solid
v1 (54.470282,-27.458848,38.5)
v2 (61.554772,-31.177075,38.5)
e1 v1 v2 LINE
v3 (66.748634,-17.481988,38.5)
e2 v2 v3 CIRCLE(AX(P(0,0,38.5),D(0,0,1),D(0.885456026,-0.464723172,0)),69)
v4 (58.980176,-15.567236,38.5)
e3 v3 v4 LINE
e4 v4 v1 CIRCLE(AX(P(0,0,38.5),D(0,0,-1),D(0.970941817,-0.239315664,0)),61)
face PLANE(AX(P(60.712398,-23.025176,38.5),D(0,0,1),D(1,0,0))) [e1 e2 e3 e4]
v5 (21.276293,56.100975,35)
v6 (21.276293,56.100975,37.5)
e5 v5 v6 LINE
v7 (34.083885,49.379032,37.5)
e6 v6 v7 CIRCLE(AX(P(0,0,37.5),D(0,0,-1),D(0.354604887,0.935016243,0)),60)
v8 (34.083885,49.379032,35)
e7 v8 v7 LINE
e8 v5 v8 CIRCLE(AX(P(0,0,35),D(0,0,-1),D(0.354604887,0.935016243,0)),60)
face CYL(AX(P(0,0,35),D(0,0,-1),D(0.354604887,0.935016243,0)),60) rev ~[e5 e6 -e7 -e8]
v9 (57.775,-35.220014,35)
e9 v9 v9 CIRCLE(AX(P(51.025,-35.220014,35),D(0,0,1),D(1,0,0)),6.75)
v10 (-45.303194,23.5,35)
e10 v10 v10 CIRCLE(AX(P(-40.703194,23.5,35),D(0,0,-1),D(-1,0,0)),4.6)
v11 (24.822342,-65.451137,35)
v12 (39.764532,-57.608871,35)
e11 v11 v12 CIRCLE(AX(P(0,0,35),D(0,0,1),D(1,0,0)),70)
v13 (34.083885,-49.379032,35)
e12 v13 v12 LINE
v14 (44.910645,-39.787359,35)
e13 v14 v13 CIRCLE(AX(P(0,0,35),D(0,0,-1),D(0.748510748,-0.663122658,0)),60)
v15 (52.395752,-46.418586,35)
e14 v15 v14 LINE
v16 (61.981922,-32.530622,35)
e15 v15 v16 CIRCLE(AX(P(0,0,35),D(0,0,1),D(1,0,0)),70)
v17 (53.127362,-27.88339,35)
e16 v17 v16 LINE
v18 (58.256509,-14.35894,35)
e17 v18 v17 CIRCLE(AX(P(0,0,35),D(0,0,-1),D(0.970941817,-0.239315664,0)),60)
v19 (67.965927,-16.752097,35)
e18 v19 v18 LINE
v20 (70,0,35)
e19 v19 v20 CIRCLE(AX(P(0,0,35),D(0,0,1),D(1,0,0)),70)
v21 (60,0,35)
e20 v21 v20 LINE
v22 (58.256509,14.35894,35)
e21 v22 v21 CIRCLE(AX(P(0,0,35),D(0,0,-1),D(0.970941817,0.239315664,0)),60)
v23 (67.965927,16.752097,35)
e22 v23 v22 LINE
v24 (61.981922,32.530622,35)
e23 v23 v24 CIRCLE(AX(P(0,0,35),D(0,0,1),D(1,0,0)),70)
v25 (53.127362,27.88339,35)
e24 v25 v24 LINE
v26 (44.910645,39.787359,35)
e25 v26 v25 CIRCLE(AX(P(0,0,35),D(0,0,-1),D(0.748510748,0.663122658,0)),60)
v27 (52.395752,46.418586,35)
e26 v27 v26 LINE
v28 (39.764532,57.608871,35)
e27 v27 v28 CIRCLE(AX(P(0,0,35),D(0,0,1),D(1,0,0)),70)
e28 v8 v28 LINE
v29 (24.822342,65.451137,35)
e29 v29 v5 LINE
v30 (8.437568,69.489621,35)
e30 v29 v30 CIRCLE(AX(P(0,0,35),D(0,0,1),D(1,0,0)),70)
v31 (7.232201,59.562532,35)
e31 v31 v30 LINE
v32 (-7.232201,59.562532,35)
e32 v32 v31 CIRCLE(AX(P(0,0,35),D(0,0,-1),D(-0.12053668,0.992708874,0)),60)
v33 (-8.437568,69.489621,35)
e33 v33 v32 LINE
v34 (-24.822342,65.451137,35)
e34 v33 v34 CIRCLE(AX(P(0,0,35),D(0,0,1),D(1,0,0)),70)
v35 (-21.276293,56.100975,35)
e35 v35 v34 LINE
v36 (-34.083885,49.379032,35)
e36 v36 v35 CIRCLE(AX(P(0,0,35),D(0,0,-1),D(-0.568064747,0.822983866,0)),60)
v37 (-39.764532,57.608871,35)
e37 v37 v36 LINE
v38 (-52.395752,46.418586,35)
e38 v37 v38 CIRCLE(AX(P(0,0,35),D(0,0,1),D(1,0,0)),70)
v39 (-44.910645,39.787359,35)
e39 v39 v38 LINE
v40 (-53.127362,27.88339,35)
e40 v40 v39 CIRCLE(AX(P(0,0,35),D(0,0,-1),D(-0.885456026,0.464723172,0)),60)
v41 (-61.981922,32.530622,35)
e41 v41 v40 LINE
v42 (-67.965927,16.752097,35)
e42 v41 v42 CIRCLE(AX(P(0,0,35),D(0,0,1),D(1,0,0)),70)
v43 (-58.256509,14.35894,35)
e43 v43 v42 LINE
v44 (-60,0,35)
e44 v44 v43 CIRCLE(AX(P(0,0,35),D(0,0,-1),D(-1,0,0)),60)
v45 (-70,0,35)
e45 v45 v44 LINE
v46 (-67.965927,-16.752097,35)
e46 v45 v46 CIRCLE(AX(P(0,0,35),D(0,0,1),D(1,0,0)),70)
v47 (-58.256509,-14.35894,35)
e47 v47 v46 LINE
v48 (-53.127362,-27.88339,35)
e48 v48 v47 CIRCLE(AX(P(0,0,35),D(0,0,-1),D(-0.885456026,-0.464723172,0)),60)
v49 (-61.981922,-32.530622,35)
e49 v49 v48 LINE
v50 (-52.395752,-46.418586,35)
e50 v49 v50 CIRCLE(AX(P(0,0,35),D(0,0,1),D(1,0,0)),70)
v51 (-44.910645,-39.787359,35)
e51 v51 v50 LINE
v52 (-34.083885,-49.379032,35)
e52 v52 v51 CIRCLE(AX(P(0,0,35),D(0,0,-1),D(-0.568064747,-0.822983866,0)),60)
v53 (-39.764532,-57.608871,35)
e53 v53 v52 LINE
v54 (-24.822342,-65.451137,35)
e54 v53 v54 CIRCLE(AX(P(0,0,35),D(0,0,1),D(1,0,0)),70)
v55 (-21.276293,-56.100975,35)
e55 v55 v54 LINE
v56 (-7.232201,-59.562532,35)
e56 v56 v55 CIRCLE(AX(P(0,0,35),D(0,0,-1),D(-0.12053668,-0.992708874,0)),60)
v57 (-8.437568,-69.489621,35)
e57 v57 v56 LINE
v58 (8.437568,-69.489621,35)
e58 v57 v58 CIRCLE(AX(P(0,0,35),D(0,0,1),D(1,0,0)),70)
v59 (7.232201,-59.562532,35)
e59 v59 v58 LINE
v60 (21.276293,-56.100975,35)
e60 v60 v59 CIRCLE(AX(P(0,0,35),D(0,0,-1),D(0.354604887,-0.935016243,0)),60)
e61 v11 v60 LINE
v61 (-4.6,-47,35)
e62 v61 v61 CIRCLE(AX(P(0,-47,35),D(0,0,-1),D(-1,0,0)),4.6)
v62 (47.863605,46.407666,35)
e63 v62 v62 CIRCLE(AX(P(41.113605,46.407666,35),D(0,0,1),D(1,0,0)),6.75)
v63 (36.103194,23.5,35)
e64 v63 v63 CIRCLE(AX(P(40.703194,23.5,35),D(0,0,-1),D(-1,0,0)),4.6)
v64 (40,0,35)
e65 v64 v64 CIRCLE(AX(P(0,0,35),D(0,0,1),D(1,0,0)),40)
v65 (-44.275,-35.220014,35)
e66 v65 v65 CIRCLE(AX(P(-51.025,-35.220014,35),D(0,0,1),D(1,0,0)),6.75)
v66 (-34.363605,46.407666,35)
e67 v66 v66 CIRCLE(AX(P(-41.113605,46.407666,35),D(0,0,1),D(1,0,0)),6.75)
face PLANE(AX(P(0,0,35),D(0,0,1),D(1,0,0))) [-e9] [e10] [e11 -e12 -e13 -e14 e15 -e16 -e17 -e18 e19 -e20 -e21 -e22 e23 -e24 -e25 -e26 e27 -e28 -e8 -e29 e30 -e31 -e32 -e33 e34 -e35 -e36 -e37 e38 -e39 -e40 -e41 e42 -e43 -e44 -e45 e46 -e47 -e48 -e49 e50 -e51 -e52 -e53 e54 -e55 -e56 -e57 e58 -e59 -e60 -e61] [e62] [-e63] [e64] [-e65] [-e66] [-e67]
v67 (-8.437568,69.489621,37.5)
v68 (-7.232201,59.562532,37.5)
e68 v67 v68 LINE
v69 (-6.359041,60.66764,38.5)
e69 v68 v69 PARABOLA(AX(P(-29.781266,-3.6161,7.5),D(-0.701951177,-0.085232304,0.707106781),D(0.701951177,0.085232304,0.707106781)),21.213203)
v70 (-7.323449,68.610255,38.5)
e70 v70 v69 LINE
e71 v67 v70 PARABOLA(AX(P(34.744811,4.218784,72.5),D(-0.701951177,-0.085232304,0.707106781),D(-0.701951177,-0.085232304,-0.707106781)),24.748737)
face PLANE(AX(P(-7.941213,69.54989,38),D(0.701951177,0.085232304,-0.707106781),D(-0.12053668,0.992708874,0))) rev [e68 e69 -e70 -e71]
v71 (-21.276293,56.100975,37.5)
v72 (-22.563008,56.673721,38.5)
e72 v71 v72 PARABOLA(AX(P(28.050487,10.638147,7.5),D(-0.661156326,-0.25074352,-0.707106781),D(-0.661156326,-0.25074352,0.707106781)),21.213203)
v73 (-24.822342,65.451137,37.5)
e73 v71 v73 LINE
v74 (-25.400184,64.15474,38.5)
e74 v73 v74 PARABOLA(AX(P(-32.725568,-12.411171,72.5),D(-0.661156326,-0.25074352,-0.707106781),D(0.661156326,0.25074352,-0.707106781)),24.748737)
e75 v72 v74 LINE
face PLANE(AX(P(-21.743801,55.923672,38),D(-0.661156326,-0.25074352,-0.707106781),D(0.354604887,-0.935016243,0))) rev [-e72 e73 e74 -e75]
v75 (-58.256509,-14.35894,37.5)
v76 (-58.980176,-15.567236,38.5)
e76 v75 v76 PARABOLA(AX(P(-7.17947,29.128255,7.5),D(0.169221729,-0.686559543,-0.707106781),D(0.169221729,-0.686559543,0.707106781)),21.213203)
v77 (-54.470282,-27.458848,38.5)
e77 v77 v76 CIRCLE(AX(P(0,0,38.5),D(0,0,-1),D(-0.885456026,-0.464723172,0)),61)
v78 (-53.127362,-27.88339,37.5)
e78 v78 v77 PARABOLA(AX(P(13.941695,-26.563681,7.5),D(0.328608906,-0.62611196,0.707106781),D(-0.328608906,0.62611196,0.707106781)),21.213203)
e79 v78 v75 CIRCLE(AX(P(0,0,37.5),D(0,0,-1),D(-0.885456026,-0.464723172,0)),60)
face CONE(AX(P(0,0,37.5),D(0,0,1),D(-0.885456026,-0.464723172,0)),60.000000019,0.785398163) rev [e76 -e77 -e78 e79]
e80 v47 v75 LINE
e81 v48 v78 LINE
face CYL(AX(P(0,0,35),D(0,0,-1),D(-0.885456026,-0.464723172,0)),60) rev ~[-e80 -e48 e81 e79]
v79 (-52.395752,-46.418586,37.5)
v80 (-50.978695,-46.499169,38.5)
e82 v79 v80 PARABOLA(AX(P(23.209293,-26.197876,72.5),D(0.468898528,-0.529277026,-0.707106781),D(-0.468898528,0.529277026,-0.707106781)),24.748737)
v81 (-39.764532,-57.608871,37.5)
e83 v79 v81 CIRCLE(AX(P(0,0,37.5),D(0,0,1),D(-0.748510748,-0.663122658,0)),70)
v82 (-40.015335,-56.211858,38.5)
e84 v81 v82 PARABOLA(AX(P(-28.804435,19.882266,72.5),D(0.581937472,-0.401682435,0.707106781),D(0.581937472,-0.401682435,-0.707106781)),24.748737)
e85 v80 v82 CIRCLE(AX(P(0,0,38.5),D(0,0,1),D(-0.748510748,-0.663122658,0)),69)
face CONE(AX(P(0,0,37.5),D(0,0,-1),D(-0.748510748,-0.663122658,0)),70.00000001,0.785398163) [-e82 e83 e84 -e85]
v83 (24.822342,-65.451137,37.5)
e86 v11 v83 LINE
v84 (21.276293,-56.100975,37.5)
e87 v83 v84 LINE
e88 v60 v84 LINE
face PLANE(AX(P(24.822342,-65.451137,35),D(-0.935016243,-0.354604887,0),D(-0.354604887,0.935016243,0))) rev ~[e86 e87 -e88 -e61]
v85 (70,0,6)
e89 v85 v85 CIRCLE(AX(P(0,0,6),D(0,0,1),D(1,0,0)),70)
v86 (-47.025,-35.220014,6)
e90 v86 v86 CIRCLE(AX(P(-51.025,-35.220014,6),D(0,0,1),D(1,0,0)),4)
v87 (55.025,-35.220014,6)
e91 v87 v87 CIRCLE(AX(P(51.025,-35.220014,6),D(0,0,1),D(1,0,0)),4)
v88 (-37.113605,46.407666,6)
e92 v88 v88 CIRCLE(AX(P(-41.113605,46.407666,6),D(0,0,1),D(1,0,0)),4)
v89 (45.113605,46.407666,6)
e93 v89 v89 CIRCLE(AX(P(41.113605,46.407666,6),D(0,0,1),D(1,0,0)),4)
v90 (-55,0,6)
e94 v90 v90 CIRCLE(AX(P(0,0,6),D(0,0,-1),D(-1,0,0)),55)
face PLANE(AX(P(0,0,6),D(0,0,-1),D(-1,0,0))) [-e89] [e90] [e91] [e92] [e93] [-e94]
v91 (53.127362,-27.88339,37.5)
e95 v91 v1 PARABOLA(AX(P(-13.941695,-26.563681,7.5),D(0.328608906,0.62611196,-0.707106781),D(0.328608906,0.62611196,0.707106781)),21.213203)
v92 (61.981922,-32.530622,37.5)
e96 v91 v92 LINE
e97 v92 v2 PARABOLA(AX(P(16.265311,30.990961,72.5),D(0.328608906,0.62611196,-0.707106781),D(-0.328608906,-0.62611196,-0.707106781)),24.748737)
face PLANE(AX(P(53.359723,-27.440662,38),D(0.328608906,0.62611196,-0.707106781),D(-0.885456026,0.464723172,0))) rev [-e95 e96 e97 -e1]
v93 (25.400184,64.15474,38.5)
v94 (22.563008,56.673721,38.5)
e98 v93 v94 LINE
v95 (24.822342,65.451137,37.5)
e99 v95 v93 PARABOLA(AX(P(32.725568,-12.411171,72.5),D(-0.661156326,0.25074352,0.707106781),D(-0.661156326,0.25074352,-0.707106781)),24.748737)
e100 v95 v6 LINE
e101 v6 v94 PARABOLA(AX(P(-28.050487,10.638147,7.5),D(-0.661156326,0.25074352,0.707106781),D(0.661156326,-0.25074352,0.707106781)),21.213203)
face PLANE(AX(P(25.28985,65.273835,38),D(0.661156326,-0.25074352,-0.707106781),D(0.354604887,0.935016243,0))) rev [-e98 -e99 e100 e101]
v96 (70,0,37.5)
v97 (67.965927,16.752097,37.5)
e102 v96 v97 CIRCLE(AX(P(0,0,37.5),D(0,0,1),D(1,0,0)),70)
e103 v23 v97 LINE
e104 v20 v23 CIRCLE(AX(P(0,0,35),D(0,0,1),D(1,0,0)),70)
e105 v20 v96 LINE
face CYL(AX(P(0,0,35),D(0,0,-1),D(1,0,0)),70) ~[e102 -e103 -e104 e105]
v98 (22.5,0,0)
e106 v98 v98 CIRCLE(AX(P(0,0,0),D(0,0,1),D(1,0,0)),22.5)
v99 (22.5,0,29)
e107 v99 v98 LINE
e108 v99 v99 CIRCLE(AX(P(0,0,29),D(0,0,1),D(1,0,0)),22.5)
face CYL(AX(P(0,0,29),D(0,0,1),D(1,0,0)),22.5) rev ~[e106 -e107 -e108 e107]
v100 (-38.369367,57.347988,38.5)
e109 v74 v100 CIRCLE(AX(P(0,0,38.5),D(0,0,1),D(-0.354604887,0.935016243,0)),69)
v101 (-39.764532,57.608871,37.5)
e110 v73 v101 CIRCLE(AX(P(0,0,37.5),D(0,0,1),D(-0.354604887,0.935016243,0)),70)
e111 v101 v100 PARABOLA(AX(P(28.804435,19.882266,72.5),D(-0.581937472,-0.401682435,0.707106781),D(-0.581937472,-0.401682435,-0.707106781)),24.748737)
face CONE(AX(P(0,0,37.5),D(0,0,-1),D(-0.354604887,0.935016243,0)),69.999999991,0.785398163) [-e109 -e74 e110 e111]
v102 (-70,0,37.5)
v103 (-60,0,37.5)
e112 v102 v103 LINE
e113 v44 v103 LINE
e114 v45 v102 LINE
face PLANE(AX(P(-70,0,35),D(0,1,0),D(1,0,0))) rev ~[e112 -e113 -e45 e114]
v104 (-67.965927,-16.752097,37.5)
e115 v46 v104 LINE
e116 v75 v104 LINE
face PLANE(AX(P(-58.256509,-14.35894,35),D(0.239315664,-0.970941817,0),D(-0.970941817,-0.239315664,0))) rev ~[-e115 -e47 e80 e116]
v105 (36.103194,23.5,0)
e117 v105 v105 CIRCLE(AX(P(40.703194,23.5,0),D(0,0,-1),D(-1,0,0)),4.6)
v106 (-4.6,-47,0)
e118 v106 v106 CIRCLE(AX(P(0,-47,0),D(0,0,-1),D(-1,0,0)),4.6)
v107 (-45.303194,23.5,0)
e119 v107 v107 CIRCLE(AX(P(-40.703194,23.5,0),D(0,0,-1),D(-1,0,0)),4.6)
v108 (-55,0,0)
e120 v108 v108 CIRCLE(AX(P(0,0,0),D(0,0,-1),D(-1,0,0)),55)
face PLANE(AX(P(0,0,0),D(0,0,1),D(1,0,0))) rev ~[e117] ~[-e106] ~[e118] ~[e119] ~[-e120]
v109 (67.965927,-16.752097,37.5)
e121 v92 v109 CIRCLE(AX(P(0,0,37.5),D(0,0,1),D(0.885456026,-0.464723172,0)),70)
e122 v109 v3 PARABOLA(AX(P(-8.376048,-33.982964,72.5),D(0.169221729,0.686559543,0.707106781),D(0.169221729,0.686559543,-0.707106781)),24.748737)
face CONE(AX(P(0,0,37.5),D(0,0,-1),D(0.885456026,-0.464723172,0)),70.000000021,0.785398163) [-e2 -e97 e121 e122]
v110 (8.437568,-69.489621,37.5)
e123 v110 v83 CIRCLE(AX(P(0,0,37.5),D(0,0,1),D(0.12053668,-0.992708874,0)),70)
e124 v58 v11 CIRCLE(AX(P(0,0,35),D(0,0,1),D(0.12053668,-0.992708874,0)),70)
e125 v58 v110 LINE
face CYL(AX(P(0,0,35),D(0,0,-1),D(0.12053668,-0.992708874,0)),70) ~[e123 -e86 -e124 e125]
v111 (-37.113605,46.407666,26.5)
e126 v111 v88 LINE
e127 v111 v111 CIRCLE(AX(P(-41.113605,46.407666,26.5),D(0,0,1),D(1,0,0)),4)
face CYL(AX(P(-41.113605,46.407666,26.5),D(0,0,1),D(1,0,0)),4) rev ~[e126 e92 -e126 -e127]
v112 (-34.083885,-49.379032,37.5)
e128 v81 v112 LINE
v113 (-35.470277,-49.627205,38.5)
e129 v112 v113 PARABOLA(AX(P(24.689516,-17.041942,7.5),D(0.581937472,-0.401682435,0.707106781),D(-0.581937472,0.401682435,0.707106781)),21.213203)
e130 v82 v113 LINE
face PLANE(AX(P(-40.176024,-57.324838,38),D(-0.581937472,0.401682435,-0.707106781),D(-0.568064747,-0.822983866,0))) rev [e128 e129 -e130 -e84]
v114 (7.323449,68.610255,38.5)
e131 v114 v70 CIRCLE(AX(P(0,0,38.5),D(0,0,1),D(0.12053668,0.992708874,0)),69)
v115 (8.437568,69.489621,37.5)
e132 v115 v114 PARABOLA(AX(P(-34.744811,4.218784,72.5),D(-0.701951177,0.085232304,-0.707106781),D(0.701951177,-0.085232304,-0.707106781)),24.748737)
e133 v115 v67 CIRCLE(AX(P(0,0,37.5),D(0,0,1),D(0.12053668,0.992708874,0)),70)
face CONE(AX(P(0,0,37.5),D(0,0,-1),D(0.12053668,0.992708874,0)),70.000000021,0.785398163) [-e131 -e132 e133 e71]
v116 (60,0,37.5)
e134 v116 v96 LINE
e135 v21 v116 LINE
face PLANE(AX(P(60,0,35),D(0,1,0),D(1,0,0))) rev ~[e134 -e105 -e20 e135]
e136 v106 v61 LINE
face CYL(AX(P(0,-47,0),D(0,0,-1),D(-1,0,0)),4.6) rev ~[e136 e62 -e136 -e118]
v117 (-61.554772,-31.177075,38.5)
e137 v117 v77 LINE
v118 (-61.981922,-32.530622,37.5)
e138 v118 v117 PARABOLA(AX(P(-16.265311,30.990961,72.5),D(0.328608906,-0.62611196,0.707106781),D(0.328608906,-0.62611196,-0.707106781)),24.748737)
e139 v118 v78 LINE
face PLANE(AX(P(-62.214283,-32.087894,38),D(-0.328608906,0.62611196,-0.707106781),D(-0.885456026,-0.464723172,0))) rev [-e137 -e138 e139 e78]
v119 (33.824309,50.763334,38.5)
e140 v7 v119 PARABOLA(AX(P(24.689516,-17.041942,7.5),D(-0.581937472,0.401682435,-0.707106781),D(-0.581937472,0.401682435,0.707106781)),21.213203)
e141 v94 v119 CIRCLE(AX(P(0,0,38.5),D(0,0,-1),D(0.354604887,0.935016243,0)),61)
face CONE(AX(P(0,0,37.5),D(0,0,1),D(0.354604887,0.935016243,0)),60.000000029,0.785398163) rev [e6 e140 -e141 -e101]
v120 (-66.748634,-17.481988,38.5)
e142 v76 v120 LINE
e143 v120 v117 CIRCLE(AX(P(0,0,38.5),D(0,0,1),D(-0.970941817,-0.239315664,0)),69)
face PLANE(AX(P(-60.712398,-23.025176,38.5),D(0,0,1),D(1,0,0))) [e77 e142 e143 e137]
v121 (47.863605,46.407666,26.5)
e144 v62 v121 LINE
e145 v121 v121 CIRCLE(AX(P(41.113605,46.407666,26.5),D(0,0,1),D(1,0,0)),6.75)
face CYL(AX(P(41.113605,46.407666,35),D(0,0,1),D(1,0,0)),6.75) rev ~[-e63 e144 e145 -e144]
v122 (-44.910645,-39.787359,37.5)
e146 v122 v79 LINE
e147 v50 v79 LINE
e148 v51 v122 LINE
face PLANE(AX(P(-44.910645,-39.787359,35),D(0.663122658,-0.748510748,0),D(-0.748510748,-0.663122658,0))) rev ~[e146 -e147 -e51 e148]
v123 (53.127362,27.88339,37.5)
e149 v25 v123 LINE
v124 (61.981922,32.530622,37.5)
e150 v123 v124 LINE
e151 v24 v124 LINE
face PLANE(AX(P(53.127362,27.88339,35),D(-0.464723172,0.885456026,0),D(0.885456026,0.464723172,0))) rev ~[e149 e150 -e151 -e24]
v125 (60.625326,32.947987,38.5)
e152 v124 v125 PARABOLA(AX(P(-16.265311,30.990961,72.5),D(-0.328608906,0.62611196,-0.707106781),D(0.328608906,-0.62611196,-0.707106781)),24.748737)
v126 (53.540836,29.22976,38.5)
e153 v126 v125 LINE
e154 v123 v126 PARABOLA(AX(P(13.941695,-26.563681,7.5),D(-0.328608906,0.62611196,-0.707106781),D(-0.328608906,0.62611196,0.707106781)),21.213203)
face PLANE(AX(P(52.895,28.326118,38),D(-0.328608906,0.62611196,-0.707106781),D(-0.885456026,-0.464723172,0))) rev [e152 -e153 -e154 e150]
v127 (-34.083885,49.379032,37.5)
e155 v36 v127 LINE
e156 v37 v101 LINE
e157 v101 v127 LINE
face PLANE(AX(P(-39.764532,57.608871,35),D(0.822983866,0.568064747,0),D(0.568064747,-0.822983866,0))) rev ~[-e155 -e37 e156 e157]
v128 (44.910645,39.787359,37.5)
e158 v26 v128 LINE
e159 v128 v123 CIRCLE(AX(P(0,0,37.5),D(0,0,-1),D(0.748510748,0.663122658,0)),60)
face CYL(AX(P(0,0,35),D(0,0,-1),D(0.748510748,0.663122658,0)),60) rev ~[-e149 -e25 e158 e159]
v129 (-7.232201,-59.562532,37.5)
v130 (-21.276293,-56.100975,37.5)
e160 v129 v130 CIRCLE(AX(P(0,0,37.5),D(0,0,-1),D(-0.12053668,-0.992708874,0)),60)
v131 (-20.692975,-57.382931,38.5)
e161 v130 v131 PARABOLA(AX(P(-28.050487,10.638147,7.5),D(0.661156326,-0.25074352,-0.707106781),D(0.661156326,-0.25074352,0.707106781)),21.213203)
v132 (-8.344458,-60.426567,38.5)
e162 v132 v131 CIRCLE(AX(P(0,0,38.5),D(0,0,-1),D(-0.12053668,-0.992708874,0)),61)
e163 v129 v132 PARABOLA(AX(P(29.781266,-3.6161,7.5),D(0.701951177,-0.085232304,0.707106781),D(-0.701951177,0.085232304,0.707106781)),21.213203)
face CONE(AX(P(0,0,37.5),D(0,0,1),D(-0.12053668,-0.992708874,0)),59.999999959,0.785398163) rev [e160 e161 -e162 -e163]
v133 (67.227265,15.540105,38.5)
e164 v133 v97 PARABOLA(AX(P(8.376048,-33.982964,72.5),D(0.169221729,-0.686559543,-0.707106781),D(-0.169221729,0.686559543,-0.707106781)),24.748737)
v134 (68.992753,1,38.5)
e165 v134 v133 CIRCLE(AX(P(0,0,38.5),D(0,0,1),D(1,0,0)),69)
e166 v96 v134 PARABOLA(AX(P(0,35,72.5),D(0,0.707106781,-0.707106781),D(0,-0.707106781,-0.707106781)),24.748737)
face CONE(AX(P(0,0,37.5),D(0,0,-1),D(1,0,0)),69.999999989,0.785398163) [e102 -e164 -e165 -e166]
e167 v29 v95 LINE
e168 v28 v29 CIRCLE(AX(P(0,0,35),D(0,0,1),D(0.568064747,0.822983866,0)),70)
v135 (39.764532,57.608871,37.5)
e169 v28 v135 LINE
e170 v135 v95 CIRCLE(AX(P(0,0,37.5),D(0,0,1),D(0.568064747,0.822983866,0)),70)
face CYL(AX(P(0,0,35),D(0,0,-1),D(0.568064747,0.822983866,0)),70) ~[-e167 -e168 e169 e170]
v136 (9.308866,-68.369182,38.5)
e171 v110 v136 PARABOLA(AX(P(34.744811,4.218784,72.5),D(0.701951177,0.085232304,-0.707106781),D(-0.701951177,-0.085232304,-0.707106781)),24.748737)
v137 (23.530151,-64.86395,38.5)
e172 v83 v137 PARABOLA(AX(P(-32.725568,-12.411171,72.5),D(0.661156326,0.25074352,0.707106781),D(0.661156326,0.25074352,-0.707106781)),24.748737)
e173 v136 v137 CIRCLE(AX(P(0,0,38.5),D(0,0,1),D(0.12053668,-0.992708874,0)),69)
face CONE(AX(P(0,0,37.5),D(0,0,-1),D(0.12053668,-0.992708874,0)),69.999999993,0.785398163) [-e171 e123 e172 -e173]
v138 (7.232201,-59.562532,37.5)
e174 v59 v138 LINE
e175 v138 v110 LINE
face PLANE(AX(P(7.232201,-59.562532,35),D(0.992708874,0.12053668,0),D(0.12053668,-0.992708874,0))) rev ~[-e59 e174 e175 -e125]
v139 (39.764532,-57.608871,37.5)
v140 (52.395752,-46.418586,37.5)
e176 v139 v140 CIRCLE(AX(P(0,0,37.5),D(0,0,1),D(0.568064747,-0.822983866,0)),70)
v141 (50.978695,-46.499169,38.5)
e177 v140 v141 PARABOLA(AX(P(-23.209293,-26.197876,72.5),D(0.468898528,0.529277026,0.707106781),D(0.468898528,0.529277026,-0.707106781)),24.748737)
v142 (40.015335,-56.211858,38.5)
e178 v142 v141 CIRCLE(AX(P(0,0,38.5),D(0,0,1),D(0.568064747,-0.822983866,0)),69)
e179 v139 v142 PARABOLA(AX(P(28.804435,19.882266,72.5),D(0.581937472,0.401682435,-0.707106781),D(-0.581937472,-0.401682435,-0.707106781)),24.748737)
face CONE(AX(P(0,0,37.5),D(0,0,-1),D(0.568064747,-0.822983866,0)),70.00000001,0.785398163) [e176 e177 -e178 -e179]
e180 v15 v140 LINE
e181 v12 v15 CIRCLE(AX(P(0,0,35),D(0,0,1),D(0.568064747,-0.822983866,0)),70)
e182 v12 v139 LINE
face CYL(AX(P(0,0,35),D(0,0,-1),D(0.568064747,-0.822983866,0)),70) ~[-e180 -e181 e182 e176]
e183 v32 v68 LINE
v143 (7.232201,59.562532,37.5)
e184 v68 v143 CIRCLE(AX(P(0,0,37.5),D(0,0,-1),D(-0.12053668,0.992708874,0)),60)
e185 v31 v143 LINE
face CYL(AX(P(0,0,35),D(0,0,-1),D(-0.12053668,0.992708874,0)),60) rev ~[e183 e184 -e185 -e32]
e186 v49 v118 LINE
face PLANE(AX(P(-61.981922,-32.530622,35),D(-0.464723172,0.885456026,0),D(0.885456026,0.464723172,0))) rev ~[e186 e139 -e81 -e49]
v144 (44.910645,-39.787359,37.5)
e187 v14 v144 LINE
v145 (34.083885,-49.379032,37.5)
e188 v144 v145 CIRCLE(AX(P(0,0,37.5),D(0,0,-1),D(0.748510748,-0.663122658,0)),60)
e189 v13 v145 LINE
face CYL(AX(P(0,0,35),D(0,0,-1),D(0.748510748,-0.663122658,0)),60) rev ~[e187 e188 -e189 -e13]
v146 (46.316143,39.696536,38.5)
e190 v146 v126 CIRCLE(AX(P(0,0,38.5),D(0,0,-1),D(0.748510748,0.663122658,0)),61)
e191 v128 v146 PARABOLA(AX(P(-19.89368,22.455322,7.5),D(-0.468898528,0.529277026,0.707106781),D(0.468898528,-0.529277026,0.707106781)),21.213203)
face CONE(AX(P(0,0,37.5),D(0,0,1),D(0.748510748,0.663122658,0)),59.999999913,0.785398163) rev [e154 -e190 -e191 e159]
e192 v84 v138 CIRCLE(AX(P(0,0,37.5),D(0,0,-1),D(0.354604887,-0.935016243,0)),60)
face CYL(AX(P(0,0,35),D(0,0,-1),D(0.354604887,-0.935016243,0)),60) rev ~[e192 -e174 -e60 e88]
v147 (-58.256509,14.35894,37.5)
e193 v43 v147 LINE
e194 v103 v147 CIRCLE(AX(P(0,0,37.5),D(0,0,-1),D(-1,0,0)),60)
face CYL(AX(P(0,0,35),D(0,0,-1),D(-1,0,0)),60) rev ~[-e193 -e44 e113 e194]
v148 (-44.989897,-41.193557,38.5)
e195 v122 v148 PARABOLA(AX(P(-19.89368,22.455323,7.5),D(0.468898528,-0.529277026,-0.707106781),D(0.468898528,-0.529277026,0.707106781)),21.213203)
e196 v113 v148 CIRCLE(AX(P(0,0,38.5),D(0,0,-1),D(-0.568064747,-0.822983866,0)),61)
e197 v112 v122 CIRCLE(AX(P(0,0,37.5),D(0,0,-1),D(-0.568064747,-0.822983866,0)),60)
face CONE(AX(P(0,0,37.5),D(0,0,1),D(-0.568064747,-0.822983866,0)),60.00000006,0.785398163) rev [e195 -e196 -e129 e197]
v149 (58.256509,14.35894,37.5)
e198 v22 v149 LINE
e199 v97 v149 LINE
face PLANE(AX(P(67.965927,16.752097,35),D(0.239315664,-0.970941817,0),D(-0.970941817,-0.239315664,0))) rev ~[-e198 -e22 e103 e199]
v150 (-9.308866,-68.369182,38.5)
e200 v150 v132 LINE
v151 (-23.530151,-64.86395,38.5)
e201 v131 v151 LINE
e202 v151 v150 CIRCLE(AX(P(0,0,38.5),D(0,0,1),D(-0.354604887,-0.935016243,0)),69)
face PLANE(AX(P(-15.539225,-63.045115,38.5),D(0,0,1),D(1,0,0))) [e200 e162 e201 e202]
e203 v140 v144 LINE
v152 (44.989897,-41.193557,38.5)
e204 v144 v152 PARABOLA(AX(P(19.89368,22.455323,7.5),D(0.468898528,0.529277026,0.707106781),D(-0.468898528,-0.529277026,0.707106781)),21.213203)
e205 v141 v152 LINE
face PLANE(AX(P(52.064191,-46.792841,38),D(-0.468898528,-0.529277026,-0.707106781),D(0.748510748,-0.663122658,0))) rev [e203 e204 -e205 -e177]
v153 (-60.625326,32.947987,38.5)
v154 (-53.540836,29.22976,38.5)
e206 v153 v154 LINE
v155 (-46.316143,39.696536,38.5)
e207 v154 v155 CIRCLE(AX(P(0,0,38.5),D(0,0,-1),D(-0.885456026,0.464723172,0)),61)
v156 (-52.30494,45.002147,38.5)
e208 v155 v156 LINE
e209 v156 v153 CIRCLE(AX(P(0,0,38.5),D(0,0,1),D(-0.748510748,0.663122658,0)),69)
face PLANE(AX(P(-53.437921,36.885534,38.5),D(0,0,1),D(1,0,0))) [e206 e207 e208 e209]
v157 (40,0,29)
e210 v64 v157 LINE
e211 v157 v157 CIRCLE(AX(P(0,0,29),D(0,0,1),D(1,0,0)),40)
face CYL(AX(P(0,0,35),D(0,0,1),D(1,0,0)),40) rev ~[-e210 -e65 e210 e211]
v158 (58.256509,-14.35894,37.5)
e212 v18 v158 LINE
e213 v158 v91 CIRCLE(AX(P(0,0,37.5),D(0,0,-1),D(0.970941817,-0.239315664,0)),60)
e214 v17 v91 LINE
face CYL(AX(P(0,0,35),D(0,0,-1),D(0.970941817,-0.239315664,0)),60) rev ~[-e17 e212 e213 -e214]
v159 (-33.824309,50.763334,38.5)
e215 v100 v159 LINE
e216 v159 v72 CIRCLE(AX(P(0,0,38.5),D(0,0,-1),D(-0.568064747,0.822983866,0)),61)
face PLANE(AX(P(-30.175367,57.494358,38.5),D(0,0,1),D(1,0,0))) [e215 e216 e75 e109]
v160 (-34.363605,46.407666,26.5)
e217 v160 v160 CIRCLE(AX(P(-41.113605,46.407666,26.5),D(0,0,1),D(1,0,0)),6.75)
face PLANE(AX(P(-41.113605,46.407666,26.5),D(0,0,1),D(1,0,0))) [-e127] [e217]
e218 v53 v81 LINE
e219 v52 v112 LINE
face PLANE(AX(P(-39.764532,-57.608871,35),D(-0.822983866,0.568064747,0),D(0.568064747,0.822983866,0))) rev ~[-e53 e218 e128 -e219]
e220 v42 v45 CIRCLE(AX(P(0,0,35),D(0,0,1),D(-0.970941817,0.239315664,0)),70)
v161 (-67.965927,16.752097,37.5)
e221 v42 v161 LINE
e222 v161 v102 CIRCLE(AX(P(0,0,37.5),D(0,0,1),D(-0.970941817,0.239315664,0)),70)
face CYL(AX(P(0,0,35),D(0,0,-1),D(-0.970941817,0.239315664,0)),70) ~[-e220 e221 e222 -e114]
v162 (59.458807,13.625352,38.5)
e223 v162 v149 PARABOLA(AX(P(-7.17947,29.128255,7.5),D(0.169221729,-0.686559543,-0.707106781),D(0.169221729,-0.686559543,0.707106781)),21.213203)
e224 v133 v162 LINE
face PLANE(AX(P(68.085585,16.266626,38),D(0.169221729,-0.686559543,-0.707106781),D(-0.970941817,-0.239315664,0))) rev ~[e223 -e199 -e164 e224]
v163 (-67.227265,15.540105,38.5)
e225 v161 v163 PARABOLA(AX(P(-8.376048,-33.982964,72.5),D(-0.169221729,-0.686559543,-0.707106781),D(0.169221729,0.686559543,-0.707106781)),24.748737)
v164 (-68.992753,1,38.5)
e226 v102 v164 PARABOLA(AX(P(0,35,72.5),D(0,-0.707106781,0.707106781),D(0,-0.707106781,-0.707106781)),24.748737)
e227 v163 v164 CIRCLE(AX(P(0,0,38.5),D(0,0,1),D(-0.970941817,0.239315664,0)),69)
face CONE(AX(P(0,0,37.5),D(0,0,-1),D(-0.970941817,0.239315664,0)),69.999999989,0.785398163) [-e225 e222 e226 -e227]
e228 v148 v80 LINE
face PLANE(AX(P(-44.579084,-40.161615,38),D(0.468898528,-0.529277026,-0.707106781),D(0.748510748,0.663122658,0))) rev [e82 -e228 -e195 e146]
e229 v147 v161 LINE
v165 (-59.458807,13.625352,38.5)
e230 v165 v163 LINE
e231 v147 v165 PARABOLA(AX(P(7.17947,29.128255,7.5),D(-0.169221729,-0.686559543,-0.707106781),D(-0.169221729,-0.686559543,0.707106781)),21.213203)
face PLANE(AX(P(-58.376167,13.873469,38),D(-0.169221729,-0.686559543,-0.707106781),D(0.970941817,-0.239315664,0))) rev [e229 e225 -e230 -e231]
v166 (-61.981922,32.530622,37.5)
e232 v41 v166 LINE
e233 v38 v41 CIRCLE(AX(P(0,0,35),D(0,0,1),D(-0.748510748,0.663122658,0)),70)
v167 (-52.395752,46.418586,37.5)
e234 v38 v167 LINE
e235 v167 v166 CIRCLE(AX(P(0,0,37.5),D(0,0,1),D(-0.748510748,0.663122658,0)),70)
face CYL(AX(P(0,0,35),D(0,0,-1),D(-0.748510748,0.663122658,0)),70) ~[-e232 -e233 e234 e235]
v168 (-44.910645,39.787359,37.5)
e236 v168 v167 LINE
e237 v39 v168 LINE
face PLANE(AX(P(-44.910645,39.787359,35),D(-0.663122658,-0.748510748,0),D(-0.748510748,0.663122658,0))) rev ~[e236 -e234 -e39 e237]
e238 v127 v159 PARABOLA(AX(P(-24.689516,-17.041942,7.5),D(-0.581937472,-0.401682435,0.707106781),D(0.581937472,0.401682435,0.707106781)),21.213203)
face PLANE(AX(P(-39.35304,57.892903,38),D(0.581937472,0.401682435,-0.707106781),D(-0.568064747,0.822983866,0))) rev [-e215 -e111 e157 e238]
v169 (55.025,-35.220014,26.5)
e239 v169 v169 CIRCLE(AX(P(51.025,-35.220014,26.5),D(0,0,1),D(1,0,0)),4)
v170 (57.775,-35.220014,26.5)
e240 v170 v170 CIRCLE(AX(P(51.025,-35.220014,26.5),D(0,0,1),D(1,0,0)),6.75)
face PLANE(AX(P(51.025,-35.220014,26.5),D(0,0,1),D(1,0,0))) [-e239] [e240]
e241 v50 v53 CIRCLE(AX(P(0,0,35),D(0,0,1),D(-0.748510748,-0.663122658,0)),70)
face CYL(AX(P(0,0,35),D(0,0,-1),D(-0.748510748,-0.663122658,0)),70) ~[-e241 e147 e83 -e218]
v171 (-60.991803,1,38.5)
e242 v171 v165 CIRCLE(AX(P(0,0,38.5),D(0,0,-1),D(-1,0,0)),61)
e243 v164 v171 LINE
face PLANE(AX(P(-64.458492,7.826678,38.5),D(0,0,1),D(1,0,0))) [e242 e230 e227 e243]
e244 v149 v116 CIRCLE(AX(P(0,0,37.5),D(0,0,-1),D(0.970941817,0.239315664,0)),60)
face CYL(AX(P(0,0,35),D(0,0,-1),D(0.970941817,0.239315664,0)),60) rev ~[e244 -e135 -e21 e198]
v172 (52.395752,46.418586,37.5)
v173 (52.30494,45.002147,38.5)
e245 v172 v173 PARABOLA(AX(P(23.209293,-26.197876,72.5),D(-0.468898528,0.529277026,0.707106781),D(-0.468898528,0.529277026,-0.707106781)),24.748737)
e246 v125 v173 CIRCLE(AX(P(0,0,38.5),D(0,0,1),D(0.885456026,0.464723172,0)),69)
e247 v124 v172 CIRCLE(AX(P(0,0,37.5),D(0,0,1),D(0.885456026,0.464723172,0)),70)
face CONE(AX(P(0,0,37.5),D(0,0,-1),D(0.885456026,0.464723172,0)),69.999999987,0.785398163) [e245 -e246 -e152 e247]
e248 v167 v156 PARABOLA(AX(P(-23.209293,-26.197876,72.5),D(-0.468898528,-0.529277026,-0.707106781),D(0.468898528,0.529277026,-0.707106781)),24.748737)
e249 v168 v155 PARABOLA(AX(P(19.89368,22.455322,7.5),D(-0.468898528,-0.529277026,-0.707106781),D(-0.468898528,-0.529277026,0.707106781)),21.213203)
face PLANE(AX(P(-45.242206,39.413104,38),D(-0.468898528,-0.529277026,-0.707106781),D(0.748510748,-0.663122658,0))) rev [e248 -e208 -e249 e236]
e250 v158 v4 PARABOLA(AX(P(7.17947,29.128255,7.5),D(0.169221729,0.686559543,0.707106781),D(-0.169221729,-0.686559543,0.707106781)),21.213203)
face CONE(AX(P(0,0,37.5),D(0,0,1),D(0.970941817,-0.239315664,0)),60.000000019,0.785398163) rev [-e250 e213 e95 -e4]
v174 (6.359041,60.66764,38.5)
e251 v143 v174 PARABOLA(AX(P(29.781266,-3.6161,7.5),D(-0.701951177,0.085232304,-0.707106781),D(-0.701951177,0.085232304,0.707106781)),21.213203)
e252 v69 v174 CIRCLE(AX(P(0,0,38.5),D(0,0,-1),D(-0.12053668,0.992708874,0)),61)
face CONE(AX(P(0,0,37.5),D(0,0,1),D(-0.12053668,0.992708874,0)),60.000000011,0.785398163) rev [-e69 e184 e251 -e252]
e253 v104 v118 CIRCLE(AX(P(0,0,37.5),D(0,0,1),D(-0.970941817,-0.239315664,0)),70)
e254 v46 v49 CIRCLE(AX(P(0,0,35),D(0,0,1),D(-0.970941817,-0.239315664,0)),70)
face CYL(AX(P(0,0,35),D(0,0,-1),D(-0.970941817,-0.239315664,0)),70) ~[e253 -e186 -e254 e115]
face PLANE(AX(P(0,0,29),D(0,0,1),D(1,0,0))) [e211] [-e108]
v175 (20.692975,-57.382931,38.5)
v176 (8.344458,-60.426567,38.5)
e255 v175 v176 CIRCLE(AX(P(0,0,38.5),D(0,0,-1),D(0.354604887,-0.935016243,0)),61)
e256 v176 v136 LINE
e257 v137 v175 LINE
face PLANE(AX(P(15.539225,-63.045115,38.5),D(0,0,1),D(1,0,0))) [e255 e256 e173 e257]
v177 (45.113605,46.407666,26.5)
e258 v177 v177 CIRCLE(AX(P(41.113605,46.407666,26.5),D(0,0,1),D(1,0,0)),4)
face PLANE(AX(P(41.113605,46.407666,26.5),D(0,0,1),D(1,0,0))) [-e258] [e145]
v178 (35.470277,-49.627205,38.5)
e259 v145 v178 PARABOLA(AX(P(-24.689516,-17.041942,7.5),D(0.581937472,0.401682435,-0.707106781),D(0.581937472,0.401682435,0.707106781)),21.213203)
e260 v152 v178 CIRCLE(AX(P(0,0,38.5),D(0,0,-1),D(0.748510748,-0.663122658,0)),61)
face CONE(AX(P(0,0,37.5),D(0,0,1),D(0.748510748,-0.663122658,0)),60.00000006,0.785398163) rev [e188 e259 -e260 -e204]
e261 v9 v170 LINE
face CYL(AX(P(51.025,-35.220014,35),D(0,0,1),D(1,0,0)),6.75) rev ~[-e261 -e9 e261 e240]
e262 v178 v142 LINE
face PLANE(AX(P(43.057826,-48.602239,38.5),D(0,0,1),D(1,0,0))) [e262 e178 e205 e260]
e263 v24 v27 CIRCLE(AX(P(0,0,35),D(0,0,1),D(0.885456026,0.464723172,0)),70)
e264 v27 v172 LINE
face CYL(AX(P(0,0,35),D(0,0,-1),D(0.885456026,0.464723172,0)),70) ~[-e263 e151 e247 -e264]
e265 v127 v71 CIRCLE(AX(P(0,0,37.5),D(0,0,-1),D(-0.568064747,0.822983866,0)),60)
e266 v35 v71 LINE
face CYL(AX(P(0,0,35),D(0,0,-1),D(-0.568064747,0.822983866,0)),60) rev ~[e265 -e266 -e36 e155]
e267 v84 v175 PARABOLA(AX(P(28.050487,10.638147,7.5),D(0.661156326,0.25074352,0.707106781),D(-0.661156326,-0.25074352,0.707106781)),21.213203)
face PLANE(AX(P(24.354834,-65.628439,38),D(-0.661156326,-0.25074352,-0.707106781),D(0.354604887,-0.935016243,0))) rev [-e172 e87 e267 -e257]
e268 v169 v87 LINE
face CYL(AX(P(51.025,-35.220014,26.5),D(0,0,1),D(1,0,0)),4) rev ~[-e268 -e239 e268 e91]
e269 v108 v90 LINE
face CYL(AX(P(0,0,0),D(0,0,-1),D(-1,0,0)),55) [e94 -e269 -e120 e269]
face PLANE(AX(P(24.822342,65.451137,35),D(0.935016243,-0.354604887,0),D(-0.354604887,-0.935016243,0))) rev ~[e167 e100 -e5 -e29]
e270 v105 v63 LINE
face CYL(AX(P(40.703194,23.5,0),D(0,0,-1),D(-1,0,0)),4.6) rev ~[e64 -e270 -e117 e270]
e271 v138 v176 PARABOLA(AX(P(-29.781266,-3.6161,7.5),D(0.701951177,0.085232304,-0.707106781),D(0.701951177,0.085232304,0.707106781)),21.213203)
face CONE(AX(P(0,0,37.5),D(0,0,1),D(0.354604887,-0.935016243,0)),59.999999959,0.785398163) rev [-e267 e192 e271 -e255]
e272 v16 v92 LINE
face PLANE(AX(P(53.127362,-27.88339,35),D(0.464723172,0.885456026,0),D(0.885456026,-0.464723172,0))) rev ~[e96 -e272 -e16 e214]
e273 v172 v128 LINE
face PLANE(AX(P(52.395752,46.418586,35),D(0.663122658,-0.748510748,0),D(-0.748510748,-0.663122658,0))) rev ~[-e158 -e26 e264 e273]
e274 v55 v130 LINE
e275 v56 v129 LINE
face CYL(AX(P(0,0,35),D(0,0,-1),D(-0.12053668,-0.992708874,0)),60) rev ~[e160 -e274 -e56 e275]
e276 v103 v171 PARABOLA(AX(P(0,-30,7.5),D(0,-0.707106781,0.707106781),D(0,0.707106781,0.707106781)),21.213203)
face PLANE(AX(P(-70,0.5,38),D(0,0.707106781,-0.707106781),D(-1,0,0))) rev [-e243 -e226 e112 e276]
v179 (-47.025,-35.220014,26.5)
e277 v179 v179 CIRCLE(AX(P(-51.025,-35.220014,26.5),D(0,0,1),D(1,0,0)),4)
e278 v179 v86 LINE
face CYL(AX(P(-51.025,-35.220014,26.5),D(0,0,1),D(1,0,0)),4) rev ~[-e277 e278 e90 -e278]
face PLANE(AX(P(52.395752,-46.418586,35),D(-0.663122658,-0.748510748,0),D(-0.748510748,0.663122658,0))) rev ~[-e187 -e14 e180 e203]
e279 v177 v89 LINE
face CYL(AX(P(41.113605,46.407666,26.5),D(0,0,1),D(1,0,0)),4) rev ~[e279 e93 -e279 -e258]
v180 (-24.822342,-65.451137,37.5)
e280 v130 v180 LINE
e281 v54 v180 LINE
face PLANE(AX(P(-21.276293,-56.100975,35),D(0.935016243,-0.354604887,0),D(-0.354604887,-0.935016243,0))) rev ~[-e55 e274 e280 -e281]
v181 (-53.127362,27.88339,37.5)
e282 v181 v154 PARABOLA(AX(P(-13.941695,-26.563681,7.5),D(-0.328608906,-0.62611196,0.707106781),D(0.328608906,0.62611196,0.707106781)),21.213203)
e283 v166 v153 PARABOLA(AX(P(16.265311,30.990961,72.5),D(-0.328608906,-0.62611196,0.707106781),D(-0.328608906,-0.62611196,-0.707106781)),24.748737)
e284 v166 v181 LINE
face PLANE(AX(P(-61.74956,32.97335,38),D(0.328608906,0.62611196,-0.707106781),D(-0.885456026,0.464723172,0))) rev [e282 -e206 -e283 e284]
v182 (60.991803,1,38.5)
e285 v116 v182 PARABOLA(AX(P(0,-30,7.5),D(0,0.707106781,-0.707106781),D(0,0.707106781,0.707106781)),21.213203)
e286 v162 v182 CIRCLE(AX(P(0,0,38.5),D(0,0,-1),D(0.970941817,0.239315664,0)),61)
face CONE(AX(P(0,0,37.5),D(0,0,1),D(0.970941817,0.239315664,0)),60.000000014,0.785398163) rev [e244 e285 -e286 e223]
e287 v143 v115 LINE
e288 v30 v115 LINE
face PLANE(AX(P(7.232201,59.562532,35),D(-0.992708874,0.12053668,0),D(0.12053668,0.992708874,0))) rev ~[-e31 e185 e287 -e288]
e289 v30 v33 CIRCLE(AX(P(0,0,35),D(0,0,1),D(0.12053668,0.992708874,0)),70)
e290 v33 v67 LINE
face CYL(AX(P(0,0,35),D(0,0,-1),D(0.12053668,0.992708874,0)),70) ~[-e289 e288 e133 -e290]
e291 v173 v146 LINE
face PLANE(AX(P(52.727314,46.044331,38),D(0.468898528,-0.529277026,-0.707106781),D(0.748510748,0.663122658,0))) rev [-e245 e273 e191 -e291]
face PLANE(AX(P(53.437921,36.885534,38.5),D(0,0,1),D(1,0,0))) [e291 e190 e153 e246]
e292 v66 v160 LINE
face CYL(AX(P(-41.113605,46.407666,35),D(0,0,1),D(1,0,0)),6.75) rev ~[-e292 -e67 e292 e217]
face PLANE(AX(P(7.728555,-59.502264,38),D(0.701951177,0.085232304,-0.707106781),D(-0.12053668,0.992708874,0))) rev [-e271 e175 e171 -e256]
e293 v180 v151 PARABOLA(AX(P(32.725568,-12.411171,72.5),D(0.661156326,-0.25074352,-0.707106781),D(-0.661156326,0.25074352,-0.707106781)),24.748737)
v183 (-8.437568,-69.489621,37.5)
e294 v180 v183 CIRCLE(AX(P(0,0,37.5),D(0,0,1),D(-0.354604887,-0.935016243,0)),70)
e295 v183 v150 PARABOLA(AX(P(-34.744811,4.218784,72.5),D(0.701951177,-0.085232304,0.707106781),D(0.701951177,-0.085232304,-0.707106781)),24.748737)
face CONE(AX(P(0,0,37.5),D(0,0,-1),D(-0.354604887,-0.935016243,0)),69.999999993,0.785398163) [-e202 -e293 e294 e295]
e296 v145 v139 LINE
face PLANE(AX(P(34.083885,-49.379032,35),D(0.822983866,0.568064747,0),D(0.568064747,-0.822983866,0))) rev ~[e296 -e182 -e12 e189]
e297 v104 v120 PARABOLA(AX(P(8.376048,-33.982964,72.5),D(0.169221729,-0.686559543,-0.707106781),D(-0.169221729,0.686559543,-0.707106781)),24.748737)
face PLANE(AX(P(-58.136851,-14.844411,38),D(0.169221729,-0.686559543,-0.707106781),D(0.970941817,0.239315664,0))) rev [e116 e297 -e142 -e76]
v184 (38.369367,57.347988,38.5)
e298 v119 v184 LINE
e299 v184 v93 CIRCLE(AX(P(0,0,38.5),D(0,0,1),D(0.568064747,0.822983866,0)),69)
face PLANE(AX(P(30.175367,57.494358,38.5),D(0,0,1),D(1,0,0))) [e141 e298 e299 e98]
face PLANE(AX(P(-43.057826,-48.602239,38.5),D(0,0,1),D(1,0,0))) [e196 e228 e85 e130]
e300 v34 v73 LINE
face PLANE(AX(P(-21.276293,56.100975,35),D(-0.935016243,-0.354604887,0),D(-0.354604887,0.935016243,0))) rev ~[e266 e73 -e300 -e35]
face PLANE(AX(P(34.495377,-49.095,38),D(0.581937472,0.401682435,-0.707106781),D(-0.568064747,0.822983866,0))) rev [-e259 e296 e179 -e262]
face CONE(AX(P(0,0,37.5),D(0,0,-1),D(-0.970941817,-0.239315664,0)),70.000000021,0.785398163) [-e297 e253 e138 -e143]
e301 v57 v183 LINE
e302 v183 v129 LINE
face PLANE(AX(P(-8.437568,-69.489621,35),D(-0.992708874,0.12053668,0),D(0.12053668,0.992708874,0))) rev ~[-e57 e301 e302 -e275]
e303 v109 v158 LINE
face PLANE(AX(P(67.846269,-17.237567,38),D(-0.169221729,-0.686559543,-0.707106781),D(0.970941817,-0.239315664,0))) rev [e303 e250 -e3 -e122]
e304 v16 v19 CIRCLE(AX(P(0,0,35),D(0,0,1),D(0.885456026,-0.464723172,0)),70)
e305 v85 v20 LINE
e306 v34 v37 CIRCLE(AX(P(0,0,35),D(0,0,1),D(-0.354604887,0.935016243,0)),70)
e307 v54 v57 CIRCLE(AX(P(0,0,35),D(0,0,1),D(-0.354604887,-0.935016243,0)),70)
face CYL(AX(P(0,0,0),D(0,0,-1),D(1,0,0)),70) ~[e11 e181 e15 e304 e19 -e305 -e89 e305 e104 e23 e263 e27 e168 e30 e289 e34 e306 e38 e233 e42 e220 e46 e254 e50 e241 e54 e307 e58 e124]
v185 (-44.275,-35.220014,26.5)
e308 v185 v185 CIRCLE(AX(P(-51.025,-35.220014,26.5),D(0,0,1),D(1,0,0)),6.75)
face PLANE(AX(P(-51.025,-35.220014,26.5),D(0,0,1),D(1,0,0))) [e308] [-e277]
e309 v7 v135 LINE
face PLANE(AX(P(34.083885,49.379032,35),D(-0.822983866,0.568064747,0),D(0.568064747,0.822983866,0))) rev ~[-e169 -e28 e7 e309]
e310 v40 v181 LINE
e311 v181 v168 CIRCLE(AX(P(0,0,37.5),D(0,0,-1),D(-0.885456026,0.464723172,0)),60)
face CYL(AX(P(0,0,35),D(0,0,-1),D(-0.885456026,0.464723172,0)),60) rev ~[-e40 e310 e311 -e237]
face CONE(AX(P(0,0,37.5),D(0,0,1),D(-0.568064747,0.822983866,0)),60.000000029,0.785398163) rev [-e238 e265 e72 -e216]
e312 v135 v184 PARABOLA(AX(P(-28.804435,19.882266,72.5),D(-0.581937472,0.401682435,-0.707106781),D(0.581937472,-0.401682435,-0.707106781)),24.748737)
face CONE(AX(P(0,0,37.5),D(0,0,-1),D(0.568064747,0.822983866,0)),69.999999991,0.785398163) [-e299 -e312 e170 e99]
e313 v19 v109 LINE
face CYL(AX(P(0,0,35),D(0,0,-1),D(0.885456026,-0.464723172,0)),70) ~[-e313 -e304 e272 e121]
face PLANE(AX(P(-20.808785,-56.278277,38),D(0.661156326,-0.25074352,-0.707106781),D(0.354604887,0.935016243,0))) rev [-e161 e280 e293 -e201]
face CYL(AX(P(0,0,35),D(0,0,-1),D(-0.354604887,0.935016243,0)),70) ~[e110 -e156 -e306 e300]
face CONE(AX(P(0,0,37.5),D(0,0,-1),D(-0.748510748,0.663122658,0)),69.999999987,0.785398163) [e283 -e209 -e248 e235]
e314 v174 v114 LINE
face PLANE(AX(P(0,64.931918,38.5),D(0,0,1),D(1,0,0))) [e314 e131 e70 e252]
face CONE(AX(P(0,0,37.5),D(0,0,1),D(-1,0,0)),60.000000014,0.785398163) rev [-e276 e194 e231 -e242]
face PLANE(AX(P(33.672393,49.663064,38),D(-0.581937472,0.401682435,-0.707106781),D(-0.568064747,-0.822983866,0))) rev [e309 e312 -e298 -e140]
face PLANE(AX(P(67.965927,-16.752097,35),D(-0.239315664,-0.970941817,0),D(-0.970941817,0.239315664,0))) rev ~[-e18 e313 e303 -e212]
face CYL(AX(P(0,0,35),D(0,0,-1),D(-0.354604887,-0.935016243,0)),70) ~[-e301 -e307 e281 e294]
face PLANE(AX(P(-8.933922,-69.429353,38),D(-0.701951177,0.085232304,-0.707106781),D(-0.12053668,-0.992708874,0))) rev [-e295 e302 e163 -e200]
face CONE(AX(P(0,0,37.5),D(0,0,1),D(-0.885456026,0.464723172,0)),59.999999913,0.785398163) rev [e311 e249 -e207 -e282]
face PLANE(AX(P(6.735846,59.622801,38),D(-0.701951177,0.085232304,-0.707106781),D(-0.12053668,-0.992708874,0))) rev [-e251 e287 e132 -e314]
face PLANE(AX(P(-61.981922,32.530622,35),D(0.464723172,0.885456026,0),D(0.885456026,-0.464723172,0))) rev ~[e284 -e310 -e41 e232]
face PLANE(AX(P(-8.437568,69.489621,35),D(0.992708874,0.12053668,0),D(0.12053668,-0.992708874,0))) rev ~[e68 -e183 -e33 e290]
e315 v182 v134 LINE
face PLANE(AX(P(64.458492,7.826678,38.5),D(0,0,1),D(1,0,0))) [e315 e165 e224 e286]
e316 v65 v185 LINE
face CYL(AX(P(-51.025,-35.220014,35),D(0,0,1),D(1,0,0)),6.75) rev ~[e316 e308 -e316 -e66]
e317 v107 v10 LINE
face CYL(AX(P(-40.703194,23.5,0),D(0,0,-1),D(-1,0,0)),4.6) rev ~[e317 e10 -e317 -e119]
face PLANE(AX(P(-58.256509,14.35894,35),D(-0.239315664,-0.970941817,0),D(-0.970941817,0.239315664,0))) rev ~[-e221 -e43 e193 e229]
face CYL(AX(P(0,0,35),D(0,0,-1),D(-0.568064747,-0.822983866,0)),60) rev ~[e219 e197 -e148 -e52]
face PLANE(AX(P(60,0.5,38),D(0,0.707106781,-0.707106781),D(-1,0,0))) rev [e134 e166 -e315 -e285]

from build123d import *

# Parameters (mm, degrees)
SKETCH_1_R          = 70
EXTRUDE_1_DEPTH     = 35
EXTRUDE_2_DEPTH     = 3.5
CHAMFER_1_SIZE      = 1
SKETCH_3_R          = 40
CUT_EXTRUDE_1_DEPTH = 6
SKETCH_5_R          = 4.6
CUT_EXTRUDE_2_DEPTH = 49
SKETCH_6_R          = 70
SKETCH_6_R_2        = 55
CUT_EXTRUDE_3_DEPTH = 6
SKETCH_7_R          = 6.75
CUT_EXTRUDE_4_DEPTH = 8.5
SKETCH_8_R          = 4
CUT_EXTRUDE_5_DEPTH = 40.5
SKETCH_9_R          = 22.5
CUT_EXTRUDE_6_DEPTH = 49.5


with BuildPart() as part:
    # 草图1 → 凸台-拉伸1 (new body)
    with BuildSketch(Plane.XY):
        Circle(SKETCH_1_R)
    extrude(amount=EXTRUDE_1_DEPTH)

    # 草图2 → 凸台-拉伸2 (add)
    with BuildSketch(Plane.XY.offset(35)):
        with BuildLine():
            Line((60, 0), (70, 0))
            ThreePointArc((70, 0), (69.489621187, 8.437567618), (67.96592722, 16.7520965))
            Line((67.96592722, 16.7520965), (58.256509046, 14.358939857))
            ThreePointArc((58.256509046, 14.358939857), (59.562532446, 7.232200815), (60, 0))
        make_face()
        with BuildLine():
            Line((53.127361539, 27.883390323), (61.981921796, 32.530622043))
            ThreePointArc((61.981921796, 32.530622043), (57.608870613, 39.764532271), (52.395752372, 46.418586077))
            Line((52.395752372, 46.418586077), (44.91064489, 39.787359494))
            ThreePointArc((44.91064489, 39.787359494), (49.379031954, 34.083884804), (53.127361539, 27.883390323))
        make_face()
        with BuildLine():
            Line((34.083884804, 49.379031954), (39.764532271, 57.608870613))
            ThreePointArc((39.764532271, 57.608870613), (32.530622043, 61.981921796), (24.822342093, 65.451136988))
            Line((24.822342093, 65.451136988), (21.276293223, 56.100974561))
            ThreePointArc((21.276293223, 56.100974561), (27.883390323, 53.127361539), (34.083884804, 49.379031954))
        make_face()
        with BuildLine():
            Line((7.232200815, 59.562532446), (8.437567618, 69.489621187))
            ThreePointArc((8.437567618, 69.489621187), (0, 70), (-8.437567618, 69.489621187))
            Line((-8.437567618, 69.489621187), (-7.232200815, 59.562532446))
            ThreePointArc((-7.232200815, 59.562532446), (0, 60), (7.232200815, 59.562532446))
        make_face()
        with BuildLine():
            Line((-21.276293223, 56.100974561), (-24.822342093, 65.451136988))
            ThreePointArc((-24.822342093, 65.451136988), (-32.530622043, 61.981921796), (-39.764532271, 57.608870613))
            Line((-39.764532271, 57.608870613), (-34.083884804, 49.379031954))
            ThreePointArc((-34.083884804, 49.379031954), (-27.883390323, 53.127361539), (-21.276293223, 56.100974561))
        make_face()
        with BuildLine():
            Line((-44.91064489, 39.787359494), (-52.395752372, 46.418586077))
            ThreePointArc((-52.395752372, 46.418586077), (-57.608870613, 39.764532271), (-61.981921796, 32.530622043))
            Line((-61.981921796, 32.530622043), (-53.127361539, 27.883390323))
            ThreePointArc((-53.127361539, 27.883390323), (-49.379031954, 34.083884804), (-44.91064489, 39.787359494))
        make_face()
        with BuildLine():
            Line((-58.256509046, 14.358939857), (-67.96592722, 16.7520965))
            ThreePointArc((-67.96592722, 16.7520965), (-69.489621187, 8.437567618), (-70, 0))
            Line((-70, 0), (-60, 0))
            ThreePointArc((-60, 0), (-59.562532446, 7.232200815), (-58.256509046, 14.358939857))
        make_face()
        with BuildLine():
            Line((-58.256509046, -14.358939857), (-67.96592722, -16.7520965))
            ThreePointArc((-67.96592722, -16.7520965), (-65.451136988, -24.822342093), (-61.981921796, -32.530622043))
            Line((-61.981921796, -32.530622043), (-53.127361539, -27.883390323))
            ThreePointArc((-53.127361539, -27.883390323), (-56.100974561, -21.276293223), (-58.256509046, -14.358939857))
        make_face()
        with BuildLine():
            Line((-44.91064489, -39.787359494), (-52.395752372, -46.418586077))
            ThreePointArc((-52.395752372, -46.418586077), (-46.418586077, -52.395752372), (-39.764532271, -57.608870613))
            Line((-39.764532271, -57.608870613), (-34.083884804, -49.379031954))
            ThreePointArc((-34.083884804, -49.379031954), (-39.787359494, -44.91064489), (-44.91064489, -39.787359494))
        make_face()
        with BuildLine():
            Line((-21.276293223, -56.100974561), (-24.822342093, -65.451136988))
            ThreePointArc((-24.822342093, -65.451136988), (-16.7520965, -67.96592722), (-8.437567618, -69.489621187))
            Line((-8.437567618, -69.489621187), (-7.232200815, -59.562532446))
            ThreePointArc((-7.232200815, -59.562532446), (-14.358939857, -58.256509046), (-21.276293223, -56.100974561))
        make_face()
        with BuildLine():
            Line((7.232200815, -59.562532446), (8.437567618, -69.489621187))
            ThreePointArc((8.437567618, -69.489621187), (16.7520965, -67.96592722), (24.822342093, -65.451136988))
            Line((24.822342093, -65.451136988), (21.276293223, -56.100974561))
            ThreePointArc((21.276293223, -56.100974561), (14.358939857, -58.256509046), (7.232200815, -59.562532446))
        make_face()
        with BuildLine():
            Line((34.083884804, -49.379031954), (39.764532271, -57.608870613))
            ThreePointArc((39.764532271, -57.608870613), (46.418586077, -52.395752372), (52.395752372, -46.418586077))
            Line((52.395752372, -46.418586077), (44.91064489, -39.787359494))
            ThreePointArc((44.91064489, -39.787359494), (39.787359494, -44.91064489), (34.083884804, -49.379031954))
        make_face()
        with BuildLine():
            Line((53.127361539, -27.883390323), (61.981921796, -32.530622043))
            ThreePointArc((61.981921796, -32.530622043), (65.451136988, -24.822342093), (67.96592722, -16.7520965))
            Line((67.96592722, -16.7520965), (58.256509046, -14.358939857))
            ThreePointArc((58.256509046, -14.358939857), (56.100974561, -21.276293223), (53.127361539, -27.883390323))
        make_face()
    extrude(amount=EXTRUDE_2_DEPTH)

    # 倒角1
    chamfer_1_edges = [part.edges().sort_by_distance(p)[0] for p in [
        (63.111218133, 15.555518179, 38.5),
        (69.489621187, 8.437567618, 38.5),
        (65, 0, 38.5),
        (59.562532446, 7.232200815, 38.5),
        (63.111218133, -15.555518179, 38.5),
        (65.451136988, -24.822342093, 38.5),
        (57.554641667, -30.207006183, 38.5),
        (56.100974561, -21.276293223, 38.5),
        (48.653198631, -43.102972786, 38.5),
        (46.418586077, -52.395752372, 38.5),
        (36.924208538, -53.493951283, 38.5),
        (39.787359494, -44.91064489, 38.5),
        (23.049317658, -60.776055775, 38.5),
        (16.7520965, -67.96592722, 38.5),
        (7.834884217, -64.526076816, 38.5),
        (14.358939857, -58.256509046, 38.5),
        (-7.834884217, -64.526076816, 38.5),
        (-16.7520965, -67.96592722, 38.5),
        (-23.049317658, -60.776055775, 38.5),
        (-14.358939857, -58.256509046, 38.5),
        (-36.924208538, -53.493951283, 38.5),
        (-46.418586077, -52.395752372, 38.5),
        (-48.653198631, -43.102972786, 38.5),
        (-39.787359494, -44.91064489, 38.5),
        (-57.554641667, -30.207006183, 38.5),
        (-65.451136988, -24.822342093, 38.5),
        (-63.111218133, -15.555518179, 38.5),
        (-56.100974561, -21.276293223, 38.5),
        (-65, 0, 38.5),
        (-69.489621187, 8.437567618, 38.5),
        (-63.111218133, 15.555518179, 38.5),
        (-59.562532446, 7.232200815, 38.5),
        (-48.653198631, 43.102972786, 38.5),
        (-49.379031954, 34.083884804, 38.5),
        (-57.554641667, 30.207006183, 38.5),
        (-57.608870613, 39.764532271, 38.5),
        (-23.049317658, 60.776055775, 38.5),
        (-27.883390323, 53.127361539, 38.5),
        (-36.924208538, 53.493951283, 38.5),
        (-32.530622043, 61.981921796, 38.5),
        (7.834884217, 64.526076816, 38.5),
        (0, 60, 38.5),
        (-7.834884217, 64.526076816, 38.5),
        (0, 70, 38.5),
        (36.924208538, 53.493951283, 38.5),
        (27.883390323, 53.127361539, 38.5),
        (23.049317658, 60.776055775, 38.5),
        (32.530622043, 61.981921796, 38.5),
        (57.554641667, 30.207006183, 38.5),
        (49.379031954, 34.083884804, 38.5),
        (48.653198631, 43.102972786, 38.5),
        (57.608870613, 39.764532271, 38.5),
    ]]
    chamfer(chamfer_1_edges, length=CHAMFER_1_SIZE)

    # 草图3 → 切除-拉伸1 (cut)
    with BuildSketch(Plane.XY.offset(35)):
        Circle(SKETCH_3_R)
    extrude(amount=-CUT_EXTRUDE_1_DEPTH, mode=Mode.SUBTRACT)

    # 草图5 → 切除-拉伸2 (cut)
    with BuildSketch(Plane(origin=(0, 0, 0), x_dir=(-1, 0, 0), z_dir=(0, 0, -1))):
        with Locations((-40.703193978, 23.5)):
            Circle(SKETCH_5_R)
        with Locations((40.703193978, 23.5)):
            Circle(SKETCH_5_R)
        with Locations((0, -47)):
            Circle(SKETCH_5_R)
    extrude(amount=-CUT_EXTRUDE_2_DEPTH, mode=Mode.SUBTRACT)

    # 草图6 → 切除-拉伸3 (cut)
    with BuildSketch(Plane(origin=(0, 0, 0), x_dir=(-1, 0, 0), z_dir=(0, 0, -1))):
        Circle(SKETCH_6_R)
        Circle(SKETCH_6_R_2, mode=Mode.SUBTRACT)
    extrude(amount=-CUT_EXTRUDE_3_DEPTH, mode=Mode.SUBTRACT)

    # 草图7 → 切除-拉伸4 (cut)
    with BuildSketch(Plane.XY.offset(35)):
        with Locations((51.024999685, -35.220014297)):
            Circle(SKETCH_7_R)
        with Locations((-51.024999685, -35.220014297)):
            Circle(SKETCH_7_R)
        with Locations((-41.113604811, 46.407666387)):
            Circle(SKETCH_7_R)
        with Locations((41.113604811, 46.407666387)):
            Circle(SKETCH_7_R)
    extrude(amount=-CUT_EXTRUDE_4_DEPTH, mode=Mode.SUBTRACT)

    # 草图8 → 切除-拉伸5 (cut)
    with BuildSketch(Plane.XY.offset(26.5)):
        with Locations((41.113604811, 46.407666387)):
            Circle(SKETCH_8_R)
        with Locations((51.024999685, -35.220014297)):
            Circle(SKETCH_8_R)
        with Locations((-51.024999685, -35.220014297)):
            Circle(SKETCH_8_R)
        with Locations((-41.113604811, 46.407666387)):
            Circle(SKETCH_8_R)
    extrude(amount=-CUT_EXTRUDE_5_DEPTH, mode=Mode.SUBTRACT)

    # 草图9 → 切除-拉伸6 (cut)
    with BuildSketch(Plane.XY.offset(29)):
        Circle(SKETCH_9_R)
    extrude(amount=-CUT_EXTRUDE_6_DEPTH, mode=Mode.SUBTRACT)


solid = part.part
